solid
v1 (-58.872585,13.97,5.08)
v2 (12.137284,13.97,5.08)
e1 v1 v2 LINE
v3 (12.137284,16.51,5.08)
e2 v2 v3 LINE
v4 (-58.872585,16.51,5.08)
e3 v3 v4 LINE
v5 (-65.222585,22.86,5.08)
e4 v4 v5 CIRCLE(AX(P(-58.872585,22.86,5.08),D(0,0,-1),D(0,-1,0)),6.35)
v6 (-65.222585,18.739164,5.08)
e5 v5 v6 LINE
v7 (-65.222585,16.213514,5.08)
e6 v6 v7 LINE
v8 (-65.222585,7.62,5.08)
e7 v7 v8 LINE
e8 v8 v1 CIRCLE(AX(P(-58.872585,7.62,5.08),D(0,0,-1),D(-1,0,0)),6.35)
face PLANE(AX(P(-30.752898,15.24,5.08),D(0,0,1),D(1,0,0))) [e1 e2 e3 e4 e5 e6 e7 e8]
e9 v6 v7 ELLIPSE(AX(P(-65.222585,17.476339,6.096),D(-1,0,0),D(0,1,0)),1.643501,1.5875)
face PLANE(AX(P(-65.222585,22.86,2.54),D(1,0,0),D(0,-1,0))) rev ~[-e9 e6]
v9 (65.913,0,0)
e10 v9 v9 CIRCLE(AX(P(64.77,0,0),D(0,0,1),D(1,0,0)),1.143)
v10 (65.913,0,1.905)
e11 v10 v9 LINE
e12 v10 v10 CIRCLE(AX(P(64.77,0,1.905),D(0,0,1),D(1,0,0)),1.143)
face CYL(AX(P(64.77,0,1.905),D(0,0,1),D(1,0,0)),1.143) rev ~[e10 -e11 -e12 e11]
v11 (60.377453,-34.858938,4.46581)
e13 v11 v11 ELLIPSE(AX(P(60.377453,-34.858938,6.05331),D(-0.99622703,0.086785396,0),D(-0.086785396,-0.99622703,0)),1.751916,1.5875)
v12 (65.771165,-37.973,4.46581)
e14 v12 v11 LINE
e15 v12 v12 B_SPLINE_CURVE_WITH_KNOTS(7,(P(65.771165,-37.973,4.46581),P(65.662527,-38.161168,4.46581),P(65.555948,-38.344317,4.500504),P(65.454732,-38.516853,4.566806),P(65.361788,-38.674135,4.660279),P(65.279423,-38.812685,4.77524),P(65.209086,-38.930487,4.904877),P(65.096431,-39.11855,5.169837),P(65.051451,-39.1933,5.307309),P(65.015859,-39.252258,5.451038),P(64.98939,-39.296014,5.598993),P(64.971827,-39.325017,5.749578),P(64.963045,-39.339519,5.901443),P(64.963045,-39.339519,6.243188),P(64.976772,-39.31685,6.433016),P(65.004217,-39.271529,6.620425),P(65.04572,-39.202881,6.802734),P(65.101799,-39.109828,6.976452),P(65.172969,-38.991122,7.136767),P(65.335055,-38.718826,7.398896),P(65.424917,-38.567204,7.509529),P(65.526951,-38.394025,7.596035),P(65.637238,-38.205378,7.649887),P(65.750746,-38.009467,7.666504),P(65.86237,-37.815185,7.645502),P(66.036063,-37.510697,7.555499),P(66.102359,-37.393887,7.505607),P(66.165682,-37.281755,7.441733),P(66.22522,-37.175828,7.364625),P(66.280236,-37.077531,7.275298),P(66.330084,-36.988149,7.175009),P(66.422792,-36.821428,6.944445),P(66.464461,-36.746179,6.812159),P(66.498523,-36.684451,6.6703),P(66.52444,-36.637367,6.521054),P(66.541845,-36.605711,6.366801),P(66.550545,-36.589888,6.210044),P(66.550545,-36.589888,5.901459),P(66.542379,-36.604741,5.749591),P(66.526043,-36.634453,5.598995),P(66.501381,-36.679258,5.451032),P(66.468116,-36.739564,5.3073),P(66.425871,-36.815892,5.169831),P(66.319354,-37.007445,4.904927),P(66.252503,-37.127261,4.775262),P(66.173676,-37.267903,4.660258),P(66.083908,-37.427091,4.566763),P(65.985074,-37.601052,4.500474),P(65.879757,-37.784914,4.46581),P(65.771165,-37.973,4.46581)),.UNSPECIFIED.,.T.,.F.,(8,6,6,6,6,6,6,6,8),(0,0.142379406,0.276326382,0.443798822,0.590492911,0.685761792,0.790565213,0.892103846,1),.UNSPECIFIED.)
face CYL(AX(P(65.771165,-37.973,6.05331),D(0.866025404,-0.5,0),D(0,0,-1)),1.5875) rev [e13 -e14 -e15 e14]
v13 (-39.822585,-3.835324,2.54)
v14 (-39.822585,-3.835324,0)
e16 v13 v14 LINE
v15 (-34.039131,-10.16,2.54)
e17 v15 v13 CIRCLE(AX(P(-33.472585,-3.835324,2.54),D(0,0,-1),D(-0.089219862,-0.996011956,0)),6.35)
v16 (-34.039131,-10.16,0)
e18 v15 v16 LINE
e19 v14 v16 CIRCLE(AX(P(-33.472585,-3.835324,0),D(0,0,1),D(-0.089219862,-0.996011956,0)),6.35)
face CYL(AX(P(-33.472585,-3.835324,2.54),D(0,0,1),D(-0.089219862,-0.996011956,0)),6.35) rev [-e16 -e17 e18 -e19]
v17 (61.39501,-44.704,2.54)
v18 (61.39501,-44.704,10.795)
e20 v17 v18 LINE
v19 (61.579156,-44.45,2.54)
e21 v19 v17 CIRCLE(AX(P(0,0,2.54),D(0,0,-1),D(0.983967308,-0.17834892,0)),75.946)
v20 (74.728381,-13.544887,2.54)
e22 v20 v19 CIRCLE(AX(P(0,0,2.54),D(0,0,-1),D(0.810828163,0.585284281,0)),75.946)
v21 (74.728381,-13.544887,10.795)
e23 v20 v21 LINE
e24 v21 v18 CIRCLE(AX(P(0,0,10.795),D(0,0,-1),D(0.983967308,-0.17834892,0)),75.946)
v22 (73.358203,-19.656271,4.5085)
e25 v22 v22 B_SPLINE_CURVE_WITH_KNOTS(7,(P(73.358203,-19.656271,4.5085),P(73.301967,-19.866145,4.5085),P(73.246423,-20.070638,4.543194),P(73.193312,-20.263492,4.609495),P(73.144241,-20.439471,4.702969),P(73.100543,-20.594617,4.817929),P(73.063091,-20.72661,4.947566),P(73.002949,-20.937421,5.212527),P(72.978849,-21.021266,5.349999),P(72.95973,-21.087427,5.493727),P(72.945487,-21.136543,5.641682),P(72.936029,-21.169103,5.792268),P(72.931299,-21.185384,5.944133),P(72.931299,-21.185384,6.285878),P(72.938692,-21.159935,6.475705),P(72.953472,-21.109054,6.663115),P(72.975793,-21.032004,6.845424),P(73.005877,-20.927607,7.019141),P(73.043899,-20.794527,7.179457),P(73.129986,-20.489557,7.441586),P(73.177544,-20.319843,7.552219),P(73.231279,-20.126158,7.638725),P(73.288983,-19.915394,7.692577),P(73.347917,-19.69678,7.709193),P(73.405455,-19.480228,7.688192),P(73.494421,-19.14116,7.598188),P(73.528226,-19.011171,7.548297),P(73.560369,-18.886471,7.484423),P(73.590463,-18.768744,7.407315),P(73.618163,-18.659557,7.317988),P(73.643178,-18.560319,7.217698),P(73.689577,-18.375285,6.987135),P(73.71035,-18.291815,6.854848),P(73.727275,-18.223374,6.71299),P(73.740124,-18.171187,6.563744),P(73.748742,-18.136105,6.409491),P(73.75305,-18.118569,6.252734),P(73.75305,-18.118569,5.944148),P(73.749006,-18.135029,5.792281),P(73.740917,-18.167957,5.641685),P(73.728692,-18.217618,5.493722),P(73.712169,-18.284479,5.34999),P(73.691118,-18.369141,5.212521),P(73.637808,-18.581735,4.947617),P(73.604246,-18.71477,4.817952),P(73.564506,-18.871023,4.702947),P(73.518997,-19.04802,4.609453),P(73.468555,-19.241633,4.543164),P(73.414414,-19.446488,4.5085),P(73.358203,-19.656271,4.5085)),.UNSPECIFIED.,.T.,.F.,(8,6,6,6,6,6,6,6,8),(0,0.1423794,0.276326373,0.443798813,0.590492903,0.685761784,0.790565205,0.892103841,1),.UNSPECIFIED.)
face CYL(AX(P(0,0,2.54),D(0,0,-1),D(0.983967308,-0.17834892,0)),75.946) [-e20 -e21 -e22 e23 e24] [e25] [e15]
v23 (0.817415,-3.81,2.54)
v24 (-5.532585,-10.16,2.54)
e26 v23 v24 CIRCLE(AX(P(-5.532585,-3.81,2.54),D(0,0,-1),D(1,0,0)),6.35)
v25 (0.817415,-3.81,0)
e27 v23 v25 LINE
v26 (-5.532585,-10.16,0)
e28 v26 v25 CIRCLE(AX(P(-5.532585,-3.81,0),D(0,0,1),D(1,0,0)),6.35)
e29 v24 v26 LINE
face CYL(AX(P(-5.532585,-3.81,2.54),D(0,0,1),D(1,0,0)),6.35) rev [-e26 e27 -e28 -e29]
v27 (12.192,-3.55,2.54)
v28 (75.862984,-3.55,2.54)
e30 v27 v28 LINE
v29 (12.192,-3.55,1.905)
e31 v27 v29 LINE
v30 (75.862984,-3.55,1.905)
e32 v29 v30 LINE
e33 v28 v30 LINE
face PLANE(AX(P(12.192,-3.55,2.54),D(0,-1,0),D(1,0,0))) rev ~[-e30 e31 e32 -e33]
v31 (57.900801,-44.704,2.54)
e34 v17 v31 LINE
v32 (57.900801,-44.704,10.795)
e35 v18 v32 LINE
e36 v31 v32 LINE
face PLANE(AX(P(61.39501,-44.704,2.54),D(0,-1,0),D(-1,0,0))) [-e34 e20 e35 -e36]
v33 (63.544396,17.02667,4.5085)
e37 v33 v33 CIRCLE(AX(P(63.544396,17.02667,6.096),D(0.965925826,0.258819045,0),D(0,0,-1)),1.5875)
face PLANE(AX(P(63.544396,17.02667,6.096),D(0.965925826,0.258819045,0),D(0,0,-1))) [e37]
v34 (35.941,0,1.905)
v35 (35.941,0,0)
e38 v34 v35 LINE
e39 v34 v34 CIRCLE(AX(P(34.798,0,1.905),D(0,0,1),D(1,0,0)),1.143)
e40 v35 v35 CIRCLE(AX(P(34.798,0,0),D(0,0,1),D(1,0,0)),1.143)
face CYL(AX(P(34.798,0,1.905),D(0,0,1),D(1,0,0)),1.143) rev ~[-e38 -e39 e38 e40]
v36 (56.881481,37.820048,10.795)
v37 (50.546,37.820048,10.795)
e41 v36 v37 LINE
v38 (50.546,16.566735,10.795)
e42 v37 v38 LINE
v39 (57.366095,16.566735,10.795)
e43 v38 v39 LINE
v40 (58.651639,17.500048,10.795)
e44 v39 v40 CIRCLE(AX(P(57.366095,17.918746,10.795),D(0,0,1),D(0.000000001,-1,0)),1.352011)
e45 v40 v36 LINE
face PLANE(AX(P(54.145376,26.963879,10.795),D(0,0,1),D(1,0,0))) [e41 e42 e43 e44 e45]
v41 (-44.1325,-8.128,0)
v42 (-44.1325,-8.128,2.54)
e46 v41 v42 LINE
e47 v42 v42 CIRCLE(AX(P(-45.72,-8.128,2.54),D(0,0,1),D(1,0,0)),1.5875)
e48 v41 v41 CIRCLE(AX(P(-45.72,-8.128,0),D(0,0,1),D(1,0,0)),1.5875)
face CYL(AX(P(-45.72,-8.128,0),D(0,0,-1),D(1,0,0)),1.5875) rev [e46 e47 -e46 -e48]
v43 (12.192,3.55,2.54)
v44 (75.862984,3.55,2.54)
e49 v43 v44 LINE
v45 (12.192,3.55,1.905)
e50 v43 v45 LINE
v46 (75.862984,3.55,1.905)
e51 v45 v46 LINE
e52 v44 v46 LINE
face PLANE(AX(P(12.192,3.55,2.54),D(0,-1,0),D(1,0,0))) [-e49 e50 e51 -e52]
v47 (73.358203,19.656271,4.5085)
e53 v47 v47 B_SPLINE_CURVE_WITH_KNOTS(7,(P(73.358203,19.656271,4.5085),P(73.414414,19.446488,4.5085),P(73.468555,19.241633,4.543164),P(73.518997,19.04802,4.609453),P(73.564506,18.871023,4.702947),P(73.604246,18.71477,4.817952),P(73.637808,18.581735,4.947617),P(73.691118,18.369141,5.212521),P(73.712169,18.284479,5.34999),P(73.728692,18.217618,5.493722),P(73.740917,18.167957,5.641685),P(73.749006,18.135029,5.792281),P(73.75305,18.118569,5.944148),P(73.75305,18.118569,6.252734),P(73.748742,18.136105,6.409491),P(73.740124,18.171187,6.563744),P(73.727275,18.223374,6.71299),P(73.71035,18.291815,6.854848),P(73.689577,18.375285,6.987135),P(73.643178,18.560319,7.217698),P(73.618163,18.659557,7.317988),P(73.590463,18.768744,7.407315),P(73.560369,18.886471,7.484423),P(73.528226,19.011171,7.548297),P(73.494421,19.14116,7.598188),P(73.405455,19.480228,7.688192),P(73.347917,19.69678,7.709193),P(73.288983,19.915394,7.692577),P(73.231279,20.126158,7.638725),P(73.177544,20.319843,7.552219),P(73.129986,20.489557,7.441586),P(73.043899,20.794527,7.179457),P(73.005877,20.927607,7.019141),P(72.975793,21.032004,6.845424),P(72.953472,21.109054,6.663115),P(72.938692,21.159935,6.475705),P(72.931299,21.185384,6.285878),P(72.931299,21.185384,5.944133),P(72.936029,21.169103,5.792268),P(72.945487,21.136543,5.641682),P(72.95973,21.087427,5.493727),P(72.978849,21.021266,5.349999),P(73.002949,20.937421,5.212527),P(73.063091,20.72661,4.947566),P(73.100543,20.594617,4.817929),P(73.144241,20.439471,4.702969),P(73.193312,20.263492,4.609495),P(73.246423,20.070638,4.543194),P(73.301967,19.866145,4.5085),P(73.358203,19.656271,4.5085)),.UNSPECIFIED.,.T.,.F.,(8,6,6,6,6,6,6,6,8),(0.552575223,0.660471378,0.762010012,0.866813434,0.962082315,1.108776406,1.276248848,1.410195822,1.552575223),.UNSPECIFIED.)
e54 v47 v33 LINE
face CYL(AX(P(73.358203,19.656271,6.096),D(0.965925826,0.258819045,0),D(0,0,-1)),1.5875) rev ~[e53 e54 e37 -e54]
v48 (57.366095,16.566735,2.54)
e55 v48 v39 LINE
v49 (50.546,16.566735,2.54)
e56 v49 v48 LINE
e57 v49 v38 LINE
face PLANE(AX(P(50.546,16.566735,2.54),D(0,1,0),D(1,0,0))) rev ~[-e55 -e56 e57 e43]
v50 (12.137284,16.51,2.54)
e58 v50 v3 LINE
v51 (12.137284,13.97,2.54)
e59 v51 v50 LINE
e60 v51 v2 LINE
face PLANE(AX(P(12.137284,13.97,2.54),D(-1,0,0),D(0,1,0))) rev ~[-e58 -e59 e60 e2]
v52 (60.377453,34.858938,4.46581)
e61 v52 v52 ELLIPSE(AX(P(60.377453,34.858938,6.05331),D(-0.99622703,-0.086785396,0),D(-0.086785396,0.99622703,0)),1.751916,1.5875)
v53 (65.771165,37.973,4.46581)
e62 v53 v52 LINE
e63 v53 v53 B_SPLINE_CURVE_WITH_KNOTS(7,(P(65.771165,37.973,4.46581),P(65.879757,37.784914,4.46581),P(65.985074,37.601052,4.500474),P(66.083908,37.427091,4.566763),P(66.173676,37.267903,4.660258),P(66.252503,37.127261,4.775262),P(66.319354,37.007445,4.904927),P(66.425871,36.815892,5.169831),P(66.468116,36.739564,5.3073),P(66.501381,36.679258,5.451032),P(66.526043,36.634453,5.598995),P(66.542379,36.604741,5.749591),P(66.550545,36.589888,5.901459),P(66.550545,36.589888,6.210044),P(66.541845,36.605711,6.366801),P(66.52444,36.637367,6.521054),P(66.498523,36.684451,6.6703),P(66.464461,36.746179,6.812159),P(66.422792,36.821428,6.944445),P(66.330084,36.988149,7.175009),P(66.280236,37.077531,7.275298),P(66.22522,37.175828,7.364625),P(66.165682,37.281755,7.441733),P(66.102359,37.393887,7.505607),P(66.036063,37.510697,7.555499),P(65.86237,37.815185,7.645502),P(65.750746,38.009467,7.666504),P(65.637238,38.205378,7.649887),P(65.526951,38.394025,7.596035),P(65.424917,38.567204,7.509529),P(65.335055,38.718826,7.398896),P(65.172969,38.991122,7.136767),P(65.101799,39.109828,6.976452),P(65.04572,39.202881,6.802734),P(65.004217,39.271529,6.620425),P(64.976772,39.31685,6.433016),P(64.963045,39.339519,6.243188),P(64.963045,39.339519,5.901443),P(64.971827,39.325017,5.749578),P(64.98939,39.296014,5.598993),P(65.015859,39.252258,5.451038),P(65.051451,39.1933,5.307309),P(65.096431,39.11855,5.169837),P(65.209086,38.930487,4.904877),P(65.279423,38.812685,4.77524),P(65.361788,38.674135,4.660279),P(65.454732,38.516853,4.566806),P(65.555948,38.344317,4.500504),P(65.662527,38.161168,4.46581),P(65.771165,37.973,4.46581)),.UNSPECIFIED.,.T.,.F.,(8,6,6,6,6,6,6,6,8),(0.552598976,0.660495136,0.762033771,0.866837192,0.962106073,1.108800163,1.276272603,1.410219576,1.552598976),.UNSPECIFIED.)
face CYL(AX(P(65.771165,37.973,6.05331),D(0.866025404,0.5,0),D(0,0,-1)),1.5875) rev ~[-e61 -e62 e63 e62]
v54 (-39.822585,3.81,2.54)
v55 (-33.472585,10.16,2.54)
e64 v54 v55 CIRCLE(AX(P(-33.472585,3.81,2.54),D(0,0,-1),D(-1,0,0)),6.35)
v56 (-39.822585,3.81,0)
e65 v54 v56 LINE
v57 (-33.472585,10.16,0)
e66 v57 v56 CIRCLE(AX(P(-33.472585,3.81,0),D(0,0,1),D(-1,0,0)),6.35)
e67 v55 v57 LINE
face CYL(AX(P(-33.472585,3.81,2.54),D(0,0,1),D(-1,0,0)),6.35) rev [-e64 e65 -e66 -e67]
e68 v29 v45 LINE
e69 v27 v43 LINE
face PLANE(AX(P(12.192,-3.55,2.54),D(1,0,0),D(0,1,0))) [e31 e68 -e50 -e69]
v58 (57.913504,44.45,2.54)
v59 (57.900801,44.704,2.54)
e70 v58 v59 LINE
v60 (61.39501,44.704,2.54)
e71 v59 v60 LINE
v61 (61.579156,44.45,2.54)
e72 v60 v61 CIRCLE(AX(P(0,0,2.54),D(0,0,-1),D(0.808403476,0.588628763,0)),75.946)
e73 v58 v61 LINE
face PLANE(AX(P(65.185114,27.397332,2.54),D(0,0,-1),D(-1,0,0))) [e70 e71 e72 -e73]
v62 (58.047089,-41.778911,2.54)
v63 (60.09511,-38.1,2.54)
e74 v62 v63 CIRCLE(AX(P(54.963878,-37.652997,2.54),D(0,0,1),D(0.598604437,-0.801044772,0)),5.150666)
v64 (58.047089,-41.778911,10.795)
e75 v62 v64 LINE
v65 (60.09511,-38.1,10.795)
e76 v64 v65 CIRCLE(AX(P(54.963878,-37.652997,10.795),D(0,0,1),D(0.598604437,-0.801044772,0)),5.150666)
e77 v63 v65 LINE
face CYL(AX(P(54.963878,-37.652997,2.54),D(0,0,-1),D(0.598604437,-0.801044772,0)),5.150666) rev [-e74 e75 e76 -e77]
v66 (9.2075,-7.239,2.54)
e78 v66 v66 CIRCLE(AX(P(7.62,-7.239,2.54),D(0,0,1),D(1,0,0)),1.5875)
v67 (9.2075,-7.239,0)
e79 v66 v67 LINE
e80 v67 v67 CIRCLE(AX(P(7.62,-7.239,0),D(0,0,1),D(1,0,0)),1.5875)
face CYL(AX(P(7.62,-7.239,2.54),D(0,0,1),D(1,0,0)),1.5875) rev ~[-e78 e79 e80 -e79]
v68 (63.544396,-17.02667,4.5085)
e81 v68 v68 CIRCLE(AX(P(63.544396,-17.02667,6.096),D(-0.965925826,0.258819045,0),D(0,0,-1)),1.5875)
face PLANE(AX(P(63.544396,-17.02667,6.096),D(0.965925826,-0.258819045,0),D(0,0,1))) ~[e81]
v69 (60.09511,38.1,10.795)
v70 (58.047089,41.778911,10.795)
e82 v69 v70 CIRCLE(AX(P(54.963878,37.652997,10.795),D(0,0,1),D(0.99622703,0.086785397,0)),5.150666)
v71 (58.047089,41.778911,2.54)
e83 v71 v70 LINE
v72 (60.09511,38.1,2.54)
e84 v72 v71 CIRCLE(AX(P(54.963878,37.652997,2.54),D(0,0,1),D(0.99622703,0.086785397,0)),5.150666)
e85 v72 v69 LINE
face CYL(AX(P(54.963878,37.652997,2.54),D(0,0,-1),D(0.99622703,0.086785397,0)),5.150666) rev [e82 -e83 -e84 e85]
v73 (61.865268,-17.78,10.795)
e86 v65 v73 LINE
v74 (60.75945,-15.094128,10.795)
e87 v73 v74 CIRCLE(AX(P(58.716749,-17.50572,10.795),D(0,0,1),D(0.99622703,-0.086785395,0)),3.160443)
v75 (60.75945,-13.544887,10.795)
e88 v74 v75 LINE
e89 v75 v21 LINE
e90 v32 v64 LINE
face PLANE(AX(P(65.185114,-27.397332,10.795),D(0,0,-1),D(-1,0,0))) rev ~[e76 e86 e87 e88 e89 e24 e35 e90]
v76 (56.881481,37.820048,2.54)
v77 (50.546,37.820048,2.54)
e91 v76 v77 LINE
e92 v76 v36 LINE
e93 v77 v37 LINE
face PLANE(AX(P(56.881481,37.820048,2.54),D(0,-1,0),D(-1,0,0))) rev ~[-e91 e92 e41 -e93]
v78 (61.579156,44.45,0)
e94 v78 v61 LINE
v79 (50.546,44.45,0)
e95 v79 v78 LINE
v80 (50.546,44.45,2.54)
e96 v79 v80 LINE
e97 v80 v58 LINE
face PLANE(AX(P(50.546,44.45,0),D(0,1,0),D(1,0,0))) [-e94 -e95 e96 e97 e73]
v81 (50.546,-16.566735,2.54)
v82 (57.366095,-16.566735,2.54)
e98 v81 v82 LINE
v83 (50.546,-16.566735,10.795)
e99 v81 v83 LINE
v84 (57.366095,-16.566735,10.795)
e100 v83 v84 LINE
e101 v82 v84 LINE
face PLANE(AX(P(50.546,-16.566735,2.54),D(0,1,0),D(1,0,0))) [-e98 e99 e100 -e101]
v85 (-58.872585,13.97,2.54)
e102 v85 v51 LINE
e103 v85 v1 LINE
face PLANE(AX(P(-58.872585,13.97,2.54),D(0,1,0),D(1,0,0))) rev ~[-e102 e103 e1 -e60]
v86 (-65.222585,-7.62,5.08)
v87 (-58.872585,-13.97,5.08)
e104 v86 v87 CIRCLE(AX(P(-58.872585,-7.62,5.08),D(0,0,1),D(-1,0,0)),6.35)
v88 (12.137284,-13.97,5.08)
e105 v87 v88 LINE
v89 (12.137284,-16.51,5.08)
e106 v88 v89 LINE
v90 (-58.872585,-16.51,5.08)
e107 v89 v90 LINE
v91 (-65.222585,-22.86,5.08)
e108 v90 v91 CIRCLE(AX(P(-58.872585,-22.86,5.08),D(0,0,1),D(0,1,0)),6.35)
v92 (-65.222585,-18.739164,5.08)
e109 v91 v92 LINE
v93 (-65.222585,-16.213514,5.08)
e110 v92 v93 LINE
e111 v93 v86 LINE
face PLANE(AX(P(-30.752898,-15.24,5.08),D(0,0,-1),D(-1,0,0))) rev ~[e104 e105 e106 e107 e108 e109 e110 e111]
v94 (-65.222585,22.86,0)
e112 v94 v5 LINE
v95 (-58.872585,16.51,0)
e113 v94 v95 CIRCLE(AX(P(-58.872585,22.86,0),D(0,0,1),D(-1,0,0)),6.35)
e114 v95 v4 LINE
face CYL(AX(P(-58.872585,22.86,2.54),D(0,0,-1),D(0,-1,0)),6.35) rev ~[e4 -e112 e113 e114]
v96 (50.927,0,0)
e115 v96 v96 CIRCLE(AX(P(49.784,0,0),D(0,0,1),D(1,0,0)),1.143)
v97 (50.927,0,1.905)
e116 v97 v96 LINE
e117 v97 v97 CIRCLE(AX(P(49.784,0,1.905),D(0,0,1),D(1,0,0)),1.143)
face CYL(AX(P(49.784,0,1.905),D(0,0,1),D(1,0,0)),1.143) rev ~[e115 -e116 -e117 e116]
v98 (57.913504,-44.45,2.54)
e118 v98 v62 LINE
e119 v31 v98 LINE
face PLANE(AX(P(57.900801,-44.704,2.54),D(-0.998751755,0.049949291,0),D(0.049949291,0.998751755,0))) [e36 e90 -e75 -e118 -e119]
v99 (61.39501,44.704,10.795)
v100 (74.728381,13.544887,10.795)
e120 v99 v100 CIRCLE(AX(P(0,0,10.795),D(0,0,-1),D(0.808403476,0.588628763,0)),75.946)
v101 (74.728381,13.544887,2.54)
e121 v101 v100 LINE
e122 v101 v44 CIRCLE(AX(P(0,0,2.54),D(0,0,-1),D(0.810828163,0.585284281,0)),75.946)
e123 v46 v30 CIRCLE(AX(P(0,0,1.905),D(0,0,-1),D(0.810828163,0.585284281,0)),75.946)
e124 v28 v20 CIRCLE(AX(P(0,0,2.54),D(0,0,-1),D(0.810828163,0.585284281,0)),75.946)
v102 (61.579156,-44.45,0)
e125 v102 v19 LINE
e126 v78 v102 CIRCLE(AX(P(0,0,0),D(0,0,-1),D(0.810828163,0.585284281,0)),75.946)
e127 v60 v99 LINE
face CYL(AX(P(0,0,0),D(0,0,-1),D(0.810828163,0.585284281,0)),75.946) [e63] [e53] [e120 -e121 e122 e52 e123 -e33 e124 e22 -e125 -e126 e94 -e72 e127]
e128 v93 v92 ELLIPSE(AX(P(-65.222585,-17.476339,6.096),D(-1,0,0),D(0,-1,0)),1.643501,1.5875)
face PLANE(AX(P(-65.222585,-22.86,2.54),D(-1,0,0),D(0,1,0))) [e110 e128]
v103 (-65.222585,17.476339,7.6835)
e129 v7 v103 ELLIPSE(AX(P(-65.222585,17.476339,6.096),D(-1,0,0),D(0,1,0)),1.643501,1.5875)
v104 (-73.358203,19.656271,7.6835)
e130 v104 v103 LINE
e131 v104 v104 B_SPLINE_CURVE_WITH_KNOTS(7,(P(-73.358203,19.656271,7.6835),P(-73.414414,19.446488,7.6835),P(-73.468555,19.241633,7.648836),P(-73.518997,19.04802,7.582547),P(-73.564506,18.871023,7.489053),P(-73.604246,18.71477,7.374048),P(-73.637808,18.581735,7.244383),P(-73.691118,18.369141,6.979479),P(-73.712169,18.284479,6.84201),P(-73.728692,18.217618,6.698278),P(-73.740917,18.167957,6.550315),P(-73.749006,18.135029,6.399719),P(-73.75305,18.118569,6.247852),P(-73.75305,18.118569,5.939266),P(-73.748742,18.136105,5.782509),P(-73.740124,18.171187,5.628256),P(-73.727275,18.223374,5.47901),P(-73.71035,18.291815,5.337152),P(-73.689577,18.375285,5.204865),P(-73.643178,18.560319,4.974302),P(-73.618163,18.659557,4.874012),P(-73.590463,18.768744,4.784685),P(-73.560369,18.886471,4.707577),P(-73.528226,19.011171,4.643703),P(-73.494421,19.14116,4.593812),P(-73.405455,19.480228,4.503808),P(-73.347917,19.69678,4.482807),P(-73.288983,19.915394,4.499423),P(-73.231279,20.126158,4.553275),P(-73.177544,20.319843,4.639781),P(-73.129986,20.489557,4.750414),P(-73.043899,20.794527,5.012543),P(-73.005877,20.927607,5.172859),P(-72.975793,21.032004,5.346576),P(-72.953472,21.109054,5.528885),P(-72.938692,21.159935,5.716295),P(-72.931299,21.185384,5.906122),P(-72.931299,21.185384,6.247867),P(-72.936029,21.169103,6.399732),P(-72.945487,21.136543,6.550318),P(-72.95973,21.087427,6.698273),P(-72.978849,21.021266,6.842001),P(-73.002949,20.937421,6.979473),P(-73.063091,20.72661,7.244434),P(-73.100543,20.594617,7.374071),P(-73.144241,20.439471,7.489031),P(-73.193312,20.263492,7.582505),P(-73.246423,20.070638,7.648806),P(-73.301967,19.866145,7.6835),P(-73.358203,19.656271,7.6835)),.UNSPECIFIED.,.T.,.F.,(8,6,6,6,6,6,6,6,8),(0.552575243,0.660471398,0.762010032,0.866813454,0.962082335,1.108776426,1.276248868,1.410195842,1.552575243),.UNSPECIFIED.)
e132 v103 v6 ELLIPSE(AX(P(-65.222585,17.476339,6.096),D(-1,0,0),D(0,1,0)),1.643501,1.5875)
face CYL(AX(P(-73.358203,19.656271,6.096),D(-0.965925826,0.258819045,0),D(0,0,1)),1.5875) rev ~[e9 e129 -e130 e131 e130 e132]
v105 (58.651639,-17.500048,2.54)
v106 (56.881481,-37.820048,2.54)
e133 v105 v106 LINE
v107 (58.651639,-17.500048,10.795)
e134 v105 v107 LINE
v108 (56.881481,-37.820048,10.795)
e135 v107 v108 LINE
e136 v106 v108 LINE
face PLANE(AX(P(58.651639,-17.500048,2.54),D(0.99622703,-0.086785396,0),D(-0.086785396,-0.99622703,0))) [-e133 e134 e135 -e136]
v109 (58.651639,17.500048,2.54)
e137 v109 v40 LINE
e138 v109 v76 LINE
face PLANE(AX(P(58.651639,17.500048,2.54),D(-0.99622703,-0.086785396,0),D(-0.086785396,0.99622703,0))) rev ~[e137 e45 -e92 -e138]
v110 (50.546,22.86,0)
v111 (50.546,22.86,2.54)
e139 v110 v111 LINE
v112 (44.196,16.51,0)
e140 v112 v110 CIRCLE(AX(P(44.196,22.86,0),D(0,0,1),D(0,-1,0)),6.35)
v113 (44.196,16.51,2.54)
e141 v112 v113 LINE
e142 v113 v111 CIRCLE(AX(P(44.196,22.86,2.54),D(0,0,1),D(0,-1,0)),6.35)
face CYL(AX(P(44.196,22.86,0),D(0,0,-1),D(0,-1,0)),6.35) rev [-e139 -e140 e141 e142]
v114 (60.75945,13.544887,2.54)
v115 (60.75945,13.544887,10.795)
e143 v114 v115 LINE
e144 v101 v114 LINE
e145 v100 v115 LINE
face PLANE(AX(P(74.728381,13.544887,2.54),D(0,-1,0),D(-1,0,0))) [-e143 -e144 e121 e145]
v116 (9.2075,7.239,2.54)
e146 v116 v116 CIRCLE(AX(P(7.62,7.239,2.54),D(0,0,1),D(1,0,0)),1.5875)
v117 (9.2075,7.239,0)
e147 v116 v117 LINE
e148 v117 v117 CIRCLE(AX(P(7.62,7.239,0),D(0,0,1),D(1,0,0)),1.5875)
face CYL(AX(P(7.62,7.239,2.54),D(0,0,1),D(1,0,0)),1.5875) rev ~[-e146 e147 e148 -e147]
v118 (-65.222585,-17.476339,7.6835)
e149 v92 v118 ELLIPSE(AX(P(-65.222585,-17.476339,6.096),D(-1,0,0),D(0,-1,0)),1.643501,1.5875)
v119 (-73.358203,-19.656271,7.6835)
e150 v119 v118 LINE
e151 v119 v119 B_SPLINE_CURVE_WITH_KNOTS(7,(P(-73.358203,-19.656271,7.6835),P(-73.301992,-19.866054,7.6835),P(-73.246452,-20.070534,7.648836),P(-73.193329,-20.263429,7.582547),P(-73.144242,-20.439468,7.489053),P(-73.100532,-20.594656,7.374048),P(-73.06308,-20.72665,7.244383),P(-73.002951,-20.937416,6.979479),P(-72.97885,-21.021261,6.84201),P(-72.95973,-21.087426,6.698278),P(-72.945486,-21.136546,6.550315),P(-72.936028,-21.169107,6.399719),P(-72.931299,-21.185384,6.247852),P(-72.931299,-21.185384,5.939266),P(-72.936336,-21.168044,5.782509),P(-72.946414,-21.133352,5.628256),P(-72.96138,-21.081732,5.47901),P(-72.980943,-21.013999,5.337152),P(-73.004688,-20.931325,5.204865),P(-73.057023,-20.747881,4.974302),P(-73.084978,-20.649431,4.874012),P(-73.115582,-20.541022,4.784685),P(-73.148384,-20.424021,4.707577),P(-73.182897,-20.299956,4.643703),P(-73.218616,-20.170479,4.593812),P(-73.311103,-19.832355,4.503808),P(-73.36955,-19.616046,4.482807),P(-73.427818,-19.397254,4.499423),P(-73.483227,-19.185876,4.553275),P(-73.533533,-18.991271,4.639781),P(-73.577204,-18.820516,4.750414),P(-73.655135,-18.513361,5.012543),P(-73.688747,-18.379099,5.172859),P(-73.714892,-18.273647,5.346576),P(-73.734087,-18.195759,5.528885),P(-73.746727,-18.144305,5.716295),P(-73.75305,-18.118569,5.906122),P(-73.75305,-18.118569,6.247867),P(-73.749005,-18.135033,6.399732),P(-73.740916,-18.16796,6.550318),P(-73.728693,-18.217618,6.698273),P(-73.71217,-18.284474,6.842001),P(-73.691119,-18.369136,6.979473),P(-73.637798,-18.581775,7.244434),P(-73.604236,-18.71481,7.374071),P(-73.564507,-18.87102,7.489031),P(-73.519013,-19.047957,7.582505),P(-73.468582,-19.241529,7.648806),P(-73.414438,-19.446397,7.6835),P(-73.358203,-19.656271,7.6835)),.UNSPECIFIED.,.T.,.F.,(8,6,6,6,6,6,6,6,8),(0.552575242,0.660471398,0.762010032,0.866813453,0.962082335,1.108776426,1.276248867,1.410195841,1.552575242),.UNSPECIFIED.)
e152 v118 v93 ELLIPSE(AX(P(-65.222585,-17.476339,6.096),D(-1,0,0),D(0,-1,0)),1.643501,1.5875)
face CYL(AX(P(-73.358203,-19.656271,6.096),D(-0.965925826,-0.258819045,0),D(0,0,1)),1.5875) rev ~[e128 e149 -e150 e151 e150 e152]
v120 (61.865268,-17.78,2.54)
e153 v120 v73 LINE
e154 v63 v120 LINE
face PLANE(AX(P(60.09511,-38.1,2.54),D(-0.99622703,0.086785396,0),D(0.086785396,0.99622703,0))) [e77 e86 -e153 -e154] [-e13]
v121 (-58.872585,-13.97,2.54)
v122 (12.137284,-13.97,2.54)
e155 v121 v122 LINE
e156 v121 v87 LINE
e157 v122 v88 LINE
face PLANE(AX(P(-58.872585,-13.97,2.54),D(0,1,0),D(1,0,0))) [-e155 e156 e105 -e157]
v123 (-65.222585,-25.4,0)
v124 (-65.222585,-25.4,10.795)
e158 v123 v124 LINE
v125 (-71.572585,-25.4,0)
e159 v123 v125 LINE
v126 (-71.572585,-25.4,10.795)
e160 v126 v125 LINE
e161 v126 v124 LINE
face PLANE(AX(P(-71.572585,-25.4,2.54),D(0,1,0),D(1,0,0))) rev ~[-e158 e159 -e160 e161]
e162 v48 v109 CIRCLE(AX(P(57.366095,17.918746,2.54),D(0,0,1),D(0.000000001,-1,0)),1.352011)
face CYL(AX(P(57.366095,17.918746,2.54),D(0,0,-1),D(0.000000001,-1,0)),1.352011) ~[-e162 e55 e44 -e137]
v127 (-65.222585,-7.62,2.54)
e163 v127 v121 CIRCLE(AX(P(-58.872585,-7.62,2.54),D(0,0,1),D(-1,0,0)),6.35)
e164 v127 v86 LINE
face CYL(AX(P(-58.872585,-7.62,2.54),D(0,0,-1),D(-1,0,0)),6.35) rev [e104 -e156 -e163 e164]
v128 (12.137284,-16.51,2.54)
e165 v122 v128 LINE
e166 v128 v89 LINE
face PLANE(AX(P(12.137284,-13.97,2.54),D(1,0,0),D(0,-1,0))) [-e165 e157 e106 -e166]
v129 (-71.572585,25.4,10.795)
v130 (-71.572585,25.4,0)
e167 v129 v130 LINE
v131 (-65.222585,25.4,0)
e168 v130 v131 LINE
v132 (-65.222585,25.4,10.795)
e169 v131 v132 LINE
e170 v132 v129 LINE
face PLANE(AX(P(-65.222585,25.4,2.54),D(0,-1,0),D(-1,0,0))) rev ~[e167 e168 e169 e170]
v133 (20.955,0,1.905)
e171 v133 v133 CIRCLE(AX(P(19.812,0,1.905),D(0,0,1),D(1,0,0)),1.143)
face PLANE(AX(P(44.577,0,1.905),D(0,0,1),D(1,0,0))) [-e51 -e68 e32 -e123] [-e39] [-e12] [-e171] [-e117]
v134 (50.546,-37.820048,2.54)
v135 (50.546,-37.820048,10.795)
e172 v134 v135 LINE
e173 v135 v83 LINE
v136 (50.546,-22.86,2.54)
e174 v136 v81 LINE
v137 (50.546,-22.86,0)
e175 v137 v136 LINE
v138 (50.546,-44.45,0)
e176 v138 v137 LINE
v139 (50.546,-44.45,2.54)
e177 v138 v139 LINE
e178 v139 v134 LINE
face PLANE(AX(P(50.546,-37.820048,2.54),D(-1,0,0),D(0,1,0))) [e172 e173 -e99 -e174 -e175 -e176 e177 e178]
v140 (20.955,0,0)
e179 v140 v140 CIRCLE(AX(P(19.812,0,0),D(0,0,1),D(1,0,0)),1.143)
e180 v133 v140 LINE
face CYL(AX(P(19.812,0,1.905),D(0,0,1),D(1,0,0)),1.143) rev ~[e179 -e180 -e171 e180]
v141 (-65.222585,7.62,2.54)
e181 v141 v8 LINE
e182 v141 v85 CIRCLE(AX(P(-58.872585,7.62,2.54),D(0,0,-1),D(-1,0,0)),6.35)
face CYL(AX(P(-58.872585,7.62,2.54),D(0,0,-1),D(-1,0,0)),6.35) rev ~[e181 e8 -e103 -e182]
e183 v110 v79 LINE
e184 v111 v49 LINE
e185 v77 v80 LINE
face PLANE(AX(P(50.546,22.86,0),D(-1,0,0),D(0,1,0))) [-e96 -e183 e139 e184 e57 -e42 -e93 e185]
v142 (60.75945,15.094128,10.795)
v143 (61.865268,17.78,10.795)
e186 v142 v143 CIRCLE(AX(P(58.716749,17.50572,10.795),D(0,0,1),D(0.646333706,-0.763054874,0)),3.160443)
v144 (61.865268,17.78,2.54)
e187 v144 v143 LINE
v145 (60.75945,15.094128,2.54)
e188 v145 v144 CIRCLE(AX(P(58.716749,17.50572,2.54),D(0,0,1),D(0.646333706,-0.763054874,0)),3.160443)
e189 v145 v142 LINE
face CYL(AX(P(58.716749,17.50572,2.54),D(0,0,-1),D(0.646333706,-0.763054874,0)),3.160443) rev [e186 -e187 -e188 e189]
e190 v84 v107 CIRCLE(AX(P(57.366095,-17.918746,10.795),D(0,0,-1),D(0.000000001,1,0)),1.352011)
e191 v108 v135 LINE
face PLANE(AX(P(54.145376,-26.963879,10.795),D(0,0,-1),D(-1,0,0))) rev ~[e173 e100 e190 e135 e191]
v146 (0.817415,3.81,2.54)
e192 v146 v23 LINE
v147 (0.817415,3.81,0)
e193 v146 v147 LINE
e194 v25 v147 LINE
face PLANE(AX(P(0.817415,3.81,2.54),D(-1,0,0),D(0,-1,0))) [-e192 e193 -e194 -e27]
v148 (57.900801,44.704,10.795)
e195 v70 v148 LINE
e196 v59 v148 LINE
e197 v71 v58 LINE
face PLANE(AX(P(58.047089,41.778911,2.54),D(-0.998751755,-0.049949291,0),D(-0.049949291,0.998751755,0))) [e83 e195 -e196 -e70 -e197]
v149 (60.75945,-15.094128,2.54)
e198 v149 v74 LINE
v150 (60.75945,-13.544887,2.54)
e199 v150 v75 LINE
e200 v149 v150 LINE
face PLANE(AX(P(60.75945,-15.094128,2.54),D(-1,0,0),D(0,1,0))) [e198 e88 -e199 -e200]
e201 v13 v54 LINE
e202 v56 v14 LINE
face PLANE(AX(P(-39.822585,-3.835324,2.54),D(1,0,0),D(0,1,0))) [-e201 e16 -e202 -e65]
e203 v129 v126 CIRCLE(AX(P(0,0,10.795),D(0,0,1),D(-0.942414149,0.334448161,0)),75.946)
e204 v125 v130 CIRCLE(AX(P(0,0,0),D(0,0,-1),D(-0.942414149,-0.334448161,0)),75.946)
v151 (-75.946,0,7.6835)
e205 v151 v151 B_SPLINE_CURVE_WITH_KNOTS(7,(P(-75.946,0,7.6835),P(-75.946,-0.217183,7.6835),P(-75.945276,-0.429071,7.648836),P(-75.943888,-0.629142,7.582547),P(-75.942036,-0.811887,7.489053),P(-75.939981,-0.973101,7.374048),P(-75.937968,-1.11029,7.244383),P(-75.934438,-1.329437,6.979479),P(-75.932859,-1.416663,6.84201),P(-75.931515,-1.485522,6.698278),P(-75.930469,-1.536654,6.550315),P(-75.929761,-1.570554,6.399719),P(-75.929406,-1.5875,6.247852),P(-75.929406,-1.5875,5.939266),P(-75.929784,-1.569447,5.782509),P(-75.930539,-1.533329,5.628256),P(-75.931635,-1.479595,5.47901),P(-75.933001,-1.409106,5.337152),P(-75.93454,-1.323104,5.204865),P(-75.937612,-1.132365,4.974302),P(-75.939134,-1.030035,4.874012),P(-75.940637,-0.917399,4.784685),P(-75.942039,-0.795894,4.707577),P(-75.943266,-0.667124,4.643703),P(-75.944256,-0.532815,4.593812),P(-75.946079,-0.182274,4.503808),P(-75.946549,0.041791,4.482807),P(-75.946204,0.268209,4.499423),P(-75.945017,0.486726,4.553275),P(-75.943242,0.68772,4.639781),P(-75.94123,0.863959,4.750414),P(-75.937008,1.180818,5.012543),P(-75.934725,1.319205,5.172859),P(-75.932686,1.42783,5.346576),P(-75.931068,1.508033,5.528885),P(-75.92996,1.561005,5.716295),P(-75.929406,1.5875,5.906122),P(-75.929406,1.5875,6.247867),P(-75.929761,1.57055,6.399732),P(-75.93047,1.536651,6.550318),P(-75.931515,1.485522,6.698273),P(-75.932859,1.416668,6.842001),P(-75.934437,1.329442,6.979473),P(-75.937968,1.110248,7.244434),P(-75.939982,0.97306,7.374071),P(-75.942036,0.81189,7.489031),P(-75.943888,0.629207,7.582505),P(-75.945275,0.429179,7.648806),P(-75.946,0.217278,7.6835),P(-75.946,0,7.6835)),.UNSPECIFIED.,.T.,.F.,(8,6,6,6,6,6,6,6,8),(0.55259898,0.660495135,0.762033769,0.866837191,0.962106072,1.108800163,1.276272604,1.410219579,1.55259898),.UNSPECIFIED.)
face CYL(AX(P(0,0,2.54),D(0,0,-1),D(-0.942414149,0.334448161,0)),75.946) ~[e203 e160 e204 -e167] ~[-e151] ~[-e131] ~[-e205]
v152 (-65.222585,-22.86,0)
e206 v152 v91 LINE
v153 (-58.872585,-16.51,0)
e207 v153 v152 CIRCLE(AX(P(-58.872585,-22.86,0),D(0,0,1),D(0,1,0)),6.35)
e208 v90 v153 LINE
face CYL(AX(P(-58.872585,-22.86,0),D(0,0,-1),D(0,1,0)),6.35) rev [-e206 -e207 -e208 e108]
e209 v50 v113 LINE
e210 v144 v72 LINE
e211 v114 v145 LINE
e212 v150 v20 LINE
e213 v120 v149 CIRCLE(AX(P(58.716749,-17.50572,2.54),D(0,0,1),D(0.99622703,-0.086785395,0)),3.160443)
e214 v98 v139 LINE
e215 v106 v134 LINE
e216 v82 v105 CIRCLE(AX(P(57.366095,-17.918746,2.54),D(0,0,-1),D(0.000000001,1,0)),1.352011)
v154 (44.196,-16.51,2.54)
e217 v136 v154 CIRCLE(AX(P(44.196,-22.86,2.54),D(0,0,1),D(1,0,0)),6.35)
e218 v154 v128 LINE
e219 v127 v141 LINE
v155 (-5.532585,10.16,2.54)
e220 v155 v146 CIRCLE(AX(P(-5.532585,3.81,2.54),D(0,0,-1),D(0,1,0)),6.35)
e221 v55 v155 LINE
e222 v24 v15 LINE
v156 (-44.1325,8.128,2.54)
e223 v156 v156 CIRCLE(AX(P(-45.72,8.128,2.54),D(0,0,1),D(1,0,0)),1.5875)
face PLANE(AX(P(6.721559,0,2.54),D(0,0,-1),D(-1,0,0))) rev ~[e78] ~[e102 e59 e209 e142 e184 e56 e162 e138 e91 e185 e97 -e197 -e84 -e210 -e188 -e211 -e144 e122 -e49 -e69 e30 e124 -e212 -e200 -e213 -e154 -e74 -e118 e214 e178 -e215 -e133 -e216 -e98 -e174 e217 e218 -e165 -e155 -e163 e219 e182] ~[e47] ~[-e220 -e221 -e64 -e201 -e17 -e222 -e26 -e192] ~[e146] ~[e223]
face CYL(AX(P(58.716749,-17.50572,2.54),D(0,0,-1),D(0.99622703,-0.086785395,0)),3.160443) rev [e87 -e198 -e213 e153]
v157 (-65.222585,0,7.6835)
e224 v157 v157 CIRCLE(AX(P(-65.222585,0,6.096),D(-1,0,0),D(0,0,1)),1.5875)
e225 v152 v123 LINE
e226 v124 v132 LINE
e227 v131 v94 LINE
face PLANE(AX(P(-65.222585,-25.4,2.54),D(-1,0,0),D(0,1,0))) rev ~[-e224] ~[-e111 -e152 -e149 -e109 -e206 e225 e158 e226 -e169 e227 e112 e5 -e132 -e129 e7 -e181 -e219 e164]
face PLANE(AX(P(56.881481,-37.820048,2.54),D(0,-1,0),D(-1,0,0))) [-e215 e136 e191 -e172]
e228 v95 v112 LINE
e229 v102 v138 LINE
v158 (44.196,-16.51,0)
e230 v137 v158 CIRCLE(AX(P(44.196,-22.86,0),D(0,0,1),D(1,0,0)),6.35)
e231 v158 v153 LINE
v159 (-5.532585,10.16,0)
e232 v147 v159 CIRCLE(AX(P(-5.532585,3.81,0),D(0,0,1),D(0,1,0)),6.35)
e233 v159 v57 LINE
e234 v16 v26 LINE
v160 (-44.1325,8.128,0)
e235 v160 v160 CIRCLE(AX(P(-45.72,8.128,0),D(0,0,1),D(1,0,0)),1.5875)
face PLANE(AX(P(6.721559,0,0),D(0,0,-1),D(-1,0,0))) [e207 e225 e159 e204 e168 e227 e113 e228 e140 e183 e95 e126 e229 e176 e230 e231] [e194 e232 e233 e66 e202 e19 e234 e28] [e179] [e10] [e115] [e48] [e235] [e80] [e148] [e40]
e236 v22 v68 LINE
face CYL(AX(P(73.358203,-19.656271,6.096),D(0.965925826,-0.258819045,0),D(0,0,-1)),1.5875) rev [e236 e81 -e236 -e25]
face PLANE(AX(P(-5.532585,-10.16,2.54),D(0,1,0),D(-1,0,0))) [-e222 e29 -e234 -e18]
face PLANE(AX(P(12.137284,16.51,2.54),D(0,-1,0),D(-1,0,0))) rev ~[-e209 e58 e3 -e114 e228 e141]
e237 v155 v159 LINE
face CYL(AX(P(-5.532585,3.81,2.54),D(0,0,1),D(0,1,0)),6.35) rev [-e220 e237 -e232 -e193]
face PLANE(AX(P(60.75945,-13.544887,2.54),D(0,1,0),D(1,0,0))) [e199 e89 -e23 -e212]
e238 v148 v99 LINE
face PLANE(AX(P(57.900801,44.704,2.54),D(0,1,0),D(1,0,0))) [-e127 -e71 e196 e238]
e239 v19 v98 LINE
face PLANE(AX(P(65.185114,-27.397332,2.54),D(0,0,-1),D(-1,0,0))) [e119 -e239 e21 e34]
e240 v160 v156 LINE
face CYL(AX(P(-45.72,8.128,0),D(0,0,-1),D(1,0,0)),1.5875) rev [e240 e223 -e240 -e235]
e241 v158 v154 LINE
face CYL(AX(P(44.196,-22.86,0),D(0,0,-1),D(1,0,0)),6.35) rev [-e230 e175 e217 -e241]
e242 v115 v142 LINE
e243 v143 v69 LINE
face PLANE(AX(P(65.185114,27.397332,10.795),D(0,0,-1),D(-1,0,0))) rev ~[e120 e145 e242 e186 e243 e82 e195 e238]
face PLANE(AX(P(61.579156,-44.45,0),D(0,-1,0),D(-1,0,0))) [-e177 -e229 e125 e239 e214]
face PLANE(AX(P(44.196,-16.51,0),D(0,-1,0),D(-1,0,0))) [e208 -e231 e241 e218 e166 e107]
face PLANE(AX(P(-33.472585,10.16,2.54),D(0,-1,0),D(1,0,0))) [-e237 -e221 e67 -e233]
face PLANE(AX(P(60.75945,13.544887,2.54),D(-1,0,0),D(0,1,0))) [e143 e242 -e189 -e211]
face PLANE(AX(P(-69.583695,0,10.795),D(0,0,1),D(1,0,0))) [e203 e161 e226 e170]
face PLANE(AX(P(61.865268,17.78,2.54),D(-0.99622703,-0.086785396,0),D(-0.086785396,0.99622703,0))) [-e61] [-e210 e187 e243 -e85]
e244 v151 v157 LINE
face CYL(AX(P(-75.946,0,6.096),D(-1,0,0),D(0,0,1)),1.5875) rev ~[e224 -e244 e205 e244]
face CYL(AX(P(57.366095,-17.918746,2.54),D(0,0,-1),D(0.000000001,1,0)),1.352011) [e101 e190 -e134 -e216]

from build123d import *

# Parameters (mm, degrees)
SKETCH1_R           = 1.5875
BOSS_EXTRUDE1_DEPTH = 2.54
BOSS_EXTRUDE2_DEPTH = 8.255
SKETCH3_W           = 64.77
SKETCH3_H           = 7.1
CUT_EXTRUDE1_DEPTH  = 0.635
SKETCH9_R           = 1.5875
CUT_EXTRUDE4_DEPTH  = 3.54
SKETCH4_R           = 1.143
CUT_EXTRUDE2_DEPTH  = 11.43
BOSS_EXTRUDE5_DEPTH = 8.255
SKETCH28_R          = 1.5875
CUT_EXTRUDE12_DEPTH = 7.62
SKETCH29_R          = 1.5875
CUT_EXTRUDE13_DEPTH = 10.16
SKETCH30_R          = 1.5875
CUT_EXTRUDE14_DEPTH = 12.7
SKETCH31_R          = 1.5875
CUT_EXTRUDE15_DEPTH = 12.7
SKETCH32_R          = 1.5875
CUT_EXTRUDE16_DEPTH = 12.7
BOSS_EXTRUDE6_DEPTH = 2.54
CUT_EXTRUDE17_DEPTH = 3.5400001


with BuildPart() as part:
    # Sketch1 → Boss-Extrude1 (new body)
    with BuildSketch(Plane.XY):
        with BuildLine():
            Line((-71.572584947, 25.4), (-65.222584947, 25.4))
            Line((-65.222584947, 25.4), (-65.222584947, 22.86))
            ThreePointArc((-65.222584947, 22.86), (-63.362713008, 18.369871939), (-58.872584947, 16.51))
            Line((-58.872584947, 16.51), (44.196, 16.51))
            ThreePointArc((44.196, 16.51), (48.686128061, 18.369871939), (50.546, 22.86))
            Line((50.546, 22.86), (50.546, 44.45))
            Line((50.546, 44.45), (61.579155694, 44.45))
            ThreePointArc((61.579155694, 44.45), (75.946, 0), (61.579155694, -44.45))
            Line((61.579155694, -44.45), (50.546, -44.45))
            Line((50.546, -44.45), (50.546, -22.86))
            ThreePointArc((50.546, -22.86), (48.686128061, -18.369871939), (44.196, -16.51))
            Line((44.196, -16.51), (-58.872584947, -16.51))
            ThreePointArc((-58.872584947, -16.51), (-63.362713008, -18.369871939), (-65.222584947, -22.86))
            Line((-65.222584947, -22.86), (-65.222584947, -25.4))
            Line((-65.222584947, -25.4), (-71.572584947, -25.4))
            ThreePointArc((-71.572584947, -25.4), (-75.946, 0), (-71.572584947, 25.4))
        make_face()
        with Locations((-45.72, 8.128)):
            Circle(SKETCH1_R, mode=Mode.SUBTRACT)
        with Locations((-45.72, -8.128)):
            Circle(SKETCH1_R, mode=Mode.SUBTRACT)
    extrude(amount=BOSS_EXTRUDE1_DEPTH)

    # Sketch2 → Boss-Extrude2 (add)
    with BuildSketch(Plane.XY.offset(2.54)):
        with BuildLine():
            Line((61.865268471, 17.78), (60.095110466, 38.1))
            ThreePointArc((60.095110466, 38.1), (59.464196764, 40.158289632), (58.047089349, 41.778911391))
            Line((58.047089349, 41.778911391), (57.900800643, 44.704))
            Line((57.900800643, 44.704), (61.395010384, 44.704))
            ThreePointArc((61.395010384, 44.704), (69.822038137, 29.877715884), (74.728381149, 13.544887112))
            Line((74.728381149, 13.544887112), (60.759450402, 13.544887112))
            Line((60.759450402, 13.544887112), (60.759450402, 15.094127876))
            ThreePointArc((60.759450402, 15.094127876), (61.639191639, 16.302501703), (61.865268471, 17.78))
        make_face()
        with BuildLine():
            Line((58.651639318, 17.500047669), (56.881481313, 37.820047669))
            Line((56.881481313, 37.820047669), (50.546, 37.820047669))
            Line((50.546, 37.820047669), (50.546, 16.566735288))
            Line((50.546, 16.566735288), (57.366094516, 16.566735288))
            ThreePointArc((57.366094516, 16.566735288), (58.160401987, 16.824667019), (58.651639318, 17.500047669))
        make_face()
        with BuildLine():
            Line((60.759450402, -13.544887112), (74.728381149, -13.544887112))
            ThreePointArc((74.728381149, -13.544887112), (69.822038137, -29.877715884), (61.395010384, -44.704))
            Line((61.395010384, -44.704), (57.900800643, -44.704))
            Line((57.900800643, -44.704), (58.047089349, -41.778911391))
            ThreePointArc((58.047089349, -41.778911391), (59.464196764, -40.158289632), (60.095110466, -38.1))
            Line((60.095110466, -38.1), (61.865268471, -17.78))
            ThreePointArc((61.865268471, -17.78), (61.639191639, -16.302501703), (60.759450402, -15.094127876))
            Line((60.759450402, -15.094127876), (60.759450402, -13.544887112))
        make_face()
        with BuildLine():
            Line((50.546, -16.566735288), (57.366094516, -16.566735288))
            ThreePointArc((57.366094516, -16.566735288), (58.160401987, -16.824667019), (58.651639318, -17.500047669))
            Line((58.651639318, -17.500047669), (56.881481313, -37.820047669))
            Line((56.881481313, -37.820047669), (50.546, -37.820047669))
            Line((50.546, -37.820047669), (50.546, -16.566735288))
        make_face()
    extrude(amount=BOSS_EXTRUDE2_DEPTH)

    # Sketch3 → Cut-Extrude1 (cut)
    with BuildSketch(Plane.XY.offset(2.54)):
        with Locations((44.577, 0)):
            Rectangle(SKETCH3_W, SKETCH3_H)
    extrude(amount=-CUT_EXTRUDE1_DEPTH, mode=Mode.SUBTRACT)

    # Sketch9 → Cut-Extrude4 (cut, through all)
    with BuildSketch(Plane.XY.offset(2.54)):
        with Locations((7.62, -7.239)):
            Circle(SKETCH9_R)
        with Locations((7.62, 7.239)):
            Circle(SKETCH9_R)
    extrude(amount=-CUT_EXTRUDE4_DEPTH, mode=Mode.SUBTRACT)

    # Sketch4 → Cut-Extrude2 (cut)
    with BuildSketch(Plane.XY.offset(1.905)):
        with Locations((19.812, 0)):
            Circle(SKETCH4_R)
        with Locations((34.798, 0)):
            Circle(SKETCH4_R)
        with Locations((49.784, 0)):
            Circle(SKETCH4_R)
        with Locations((64.77, 0)):
            Circle(SKETCH4_R)
    extrude(amount=-CUT_EXTRUDE2_DEPTH, mode=Mode.SUBTRACT)

    # Sketch19 → Boss-Extrude5 (add)
    with BuildSketch(Plane.XY.offset(2.54)):
        with BuildLine():
            Line((-71.572584947, -25.4), (-65.222584947, -25.4))
            Line((-65.222584947, -25.4), (-65.222584947, 25.4))
            Line((-65.222584947, 25.4), (-71.572584947, 25.4))
            ThreePointArc((-71.572584947, 25.4), (-75.946, 0), (-71.572584947, -25.4))
        make_face()
    extrude(amount=BOSS_EXTRUDE5_DEPTH)

    # Sketch28 → Cut-Extrude12 (cut)
    with BuildSketch(Plane(origin=(65.771165316, 37.973, 0), x_dir=(0, 0, -1), z_dir=(0.866025404, 0.5, 0))):
        with Locations((-6.053310192, 0)):
            Circle(SKETCH28_R)
    cut_extrude12 = extrude(amount=-CUT_EXTRUDE12_DEPTH, mode=Mode.SUBTRACT)

    # Sketch29 → Cut-Extrude13 (cut)
    with BuildSketch(Plane(origin=(73.358202803, 19.656271199, 0), x_dir=(0, 0, -1), z_dir=(0.965925826, 0.258819045, 0))):
        with Locations((-6.096, 0)):
            Circle(SKETCH29_R)
    cut_extrude13 = extrude(amount=-CUT_EXTRUDE13_DEPTH, mode=Mode.SUBTRACT)

    # Mirror3: Cut-Extrude12, Cut-Extrude13 across plane
    add(cut_extrude12.mirror(Plane.ZX), mode=Mode.SUBTRACT)
    add(cut_extrude13.mirror(Plane.ZX), mode=Mode.SUBTRACT)

    # Sketch30 → Cut-Extrude14 (cut)
    with BuildSketch(Plane(origin=(-73.358202803, 19.656271199, 0), x_dir=(0, 0, 1), z_dir=(-0.965925826, 0.258819045, 0))):
        with Locations((6.096, 0)):
            Circle(SKETCH30_R)
    extrude(amount=-CUT_EXTRUDE14_DEPTH, mode=Mode.SUBTRACT)

    # Sketch31 → Cut-Extrude15 (cut)
    with BuildSketch(Plane.ZY.offset(75.946)):
        with Locations((6.096, 0)):
            Circle(SKETCH31_R)
    extrude(amount=-CUT_EXTRUDE15_DEPTH, mode=Mode.SUBTRACT)

    # Sketch32 → Cut-Extrude16 (cut)
    with BuildSketch(Plane(origin=(-73.358202803, -19.656271199, 0), x_dir=(0, 0, 1), z_dir=(-0.965925826, -0.258819045, 0))):
        with Locations((6.096, 0)):
            Circle(SKETCH32_R)
    extrude(amount=-CUT_EXTRUDE16_DEPTH, mode=Mode.SUBTRACT)

    # Sketch33 → Boss-Extrude6 (add)
    with BuildSketch(Plane.XY.offset(2.54)):
        with BuildLine():
            Line((12.137284041, 16.51), (-58.872584947, 16.51))
            ThreePointArc((-58.872584947, 16.51), (-63.362713008, 18.369871939), (-65.222584947, 22.86))
            Line((-65.222584947, 22.86), (-65.222584947, 7.62))
            ThreePointArc((-65.222584947, 7.62), (-63.362713008, 12.110128061), (-58.872584947, 13.97))
            Line((-58.872584947, 13.97), (12.137284041, 13.97))
            Line((12.137284041, 13.97), (12.137284041, 16.51))
        make_face()
        with BuildLine():
            Line((12.137284041, -13.97), (12.137284041, -16.51))
            Line((12.137284041, -16.51), (-58.872584947, -16.51))
            ThreePointArc((-58.872584947, -16.51), (-63.362713008, -18.369871939), (-65.222584947, -22.86))
            Line((-65.222584947, -22.86), (-65.222584947, -7.62))
            ThreePointArc((-65.222584947, -7.62), (-63.362713008, -12.110128061), (-58.872584947, -13.97))
            Line((-58.872584947, -13.97), (12.137284041, -13.97))
        make_face()
    extrude(amount=BOSS_EXTRUDE6_DEPTH)

    # Sketch34 → Cut-Extrude17 (cut, through all)
    with BuildSketch(Plane.XY.offset(2.54)):
        with BuildLine():
            Line((-33.472584947, 10.16), (-5.532584947, 10.16))
            ThreePointArc((-5.532584947, 10.16), (-1.042456886, 8.300128061), (0.817415053, 3.81))
            Line((0.817415053, 3.81), (0.817415053, -3.81))
            ThreePointArc((0.817415053, -3.81), (-1.042456886, -8.300128061), (-5.532584947, -10.16))
            Line((-5.532584947, -10.16), (-34.039131073, -10.16))
            ThreePointArc((-34.039131073, -10.16), (-38.158738375, -8.120468891), (-39.822584947, -3.83532408))
            Line((-39.822584947, -3.83532408), (-39.822584947, 3.81))
            ThreePointArc((-39.822584947, 3.81), (-37.962713008, 8.300128061), (-33.472584947, 10.16))
        make_face()
    extrude(amount=-CUT_EXTRUDE17_DEPTH, mode=Mode.SUBTRACT)


solid = part.part
